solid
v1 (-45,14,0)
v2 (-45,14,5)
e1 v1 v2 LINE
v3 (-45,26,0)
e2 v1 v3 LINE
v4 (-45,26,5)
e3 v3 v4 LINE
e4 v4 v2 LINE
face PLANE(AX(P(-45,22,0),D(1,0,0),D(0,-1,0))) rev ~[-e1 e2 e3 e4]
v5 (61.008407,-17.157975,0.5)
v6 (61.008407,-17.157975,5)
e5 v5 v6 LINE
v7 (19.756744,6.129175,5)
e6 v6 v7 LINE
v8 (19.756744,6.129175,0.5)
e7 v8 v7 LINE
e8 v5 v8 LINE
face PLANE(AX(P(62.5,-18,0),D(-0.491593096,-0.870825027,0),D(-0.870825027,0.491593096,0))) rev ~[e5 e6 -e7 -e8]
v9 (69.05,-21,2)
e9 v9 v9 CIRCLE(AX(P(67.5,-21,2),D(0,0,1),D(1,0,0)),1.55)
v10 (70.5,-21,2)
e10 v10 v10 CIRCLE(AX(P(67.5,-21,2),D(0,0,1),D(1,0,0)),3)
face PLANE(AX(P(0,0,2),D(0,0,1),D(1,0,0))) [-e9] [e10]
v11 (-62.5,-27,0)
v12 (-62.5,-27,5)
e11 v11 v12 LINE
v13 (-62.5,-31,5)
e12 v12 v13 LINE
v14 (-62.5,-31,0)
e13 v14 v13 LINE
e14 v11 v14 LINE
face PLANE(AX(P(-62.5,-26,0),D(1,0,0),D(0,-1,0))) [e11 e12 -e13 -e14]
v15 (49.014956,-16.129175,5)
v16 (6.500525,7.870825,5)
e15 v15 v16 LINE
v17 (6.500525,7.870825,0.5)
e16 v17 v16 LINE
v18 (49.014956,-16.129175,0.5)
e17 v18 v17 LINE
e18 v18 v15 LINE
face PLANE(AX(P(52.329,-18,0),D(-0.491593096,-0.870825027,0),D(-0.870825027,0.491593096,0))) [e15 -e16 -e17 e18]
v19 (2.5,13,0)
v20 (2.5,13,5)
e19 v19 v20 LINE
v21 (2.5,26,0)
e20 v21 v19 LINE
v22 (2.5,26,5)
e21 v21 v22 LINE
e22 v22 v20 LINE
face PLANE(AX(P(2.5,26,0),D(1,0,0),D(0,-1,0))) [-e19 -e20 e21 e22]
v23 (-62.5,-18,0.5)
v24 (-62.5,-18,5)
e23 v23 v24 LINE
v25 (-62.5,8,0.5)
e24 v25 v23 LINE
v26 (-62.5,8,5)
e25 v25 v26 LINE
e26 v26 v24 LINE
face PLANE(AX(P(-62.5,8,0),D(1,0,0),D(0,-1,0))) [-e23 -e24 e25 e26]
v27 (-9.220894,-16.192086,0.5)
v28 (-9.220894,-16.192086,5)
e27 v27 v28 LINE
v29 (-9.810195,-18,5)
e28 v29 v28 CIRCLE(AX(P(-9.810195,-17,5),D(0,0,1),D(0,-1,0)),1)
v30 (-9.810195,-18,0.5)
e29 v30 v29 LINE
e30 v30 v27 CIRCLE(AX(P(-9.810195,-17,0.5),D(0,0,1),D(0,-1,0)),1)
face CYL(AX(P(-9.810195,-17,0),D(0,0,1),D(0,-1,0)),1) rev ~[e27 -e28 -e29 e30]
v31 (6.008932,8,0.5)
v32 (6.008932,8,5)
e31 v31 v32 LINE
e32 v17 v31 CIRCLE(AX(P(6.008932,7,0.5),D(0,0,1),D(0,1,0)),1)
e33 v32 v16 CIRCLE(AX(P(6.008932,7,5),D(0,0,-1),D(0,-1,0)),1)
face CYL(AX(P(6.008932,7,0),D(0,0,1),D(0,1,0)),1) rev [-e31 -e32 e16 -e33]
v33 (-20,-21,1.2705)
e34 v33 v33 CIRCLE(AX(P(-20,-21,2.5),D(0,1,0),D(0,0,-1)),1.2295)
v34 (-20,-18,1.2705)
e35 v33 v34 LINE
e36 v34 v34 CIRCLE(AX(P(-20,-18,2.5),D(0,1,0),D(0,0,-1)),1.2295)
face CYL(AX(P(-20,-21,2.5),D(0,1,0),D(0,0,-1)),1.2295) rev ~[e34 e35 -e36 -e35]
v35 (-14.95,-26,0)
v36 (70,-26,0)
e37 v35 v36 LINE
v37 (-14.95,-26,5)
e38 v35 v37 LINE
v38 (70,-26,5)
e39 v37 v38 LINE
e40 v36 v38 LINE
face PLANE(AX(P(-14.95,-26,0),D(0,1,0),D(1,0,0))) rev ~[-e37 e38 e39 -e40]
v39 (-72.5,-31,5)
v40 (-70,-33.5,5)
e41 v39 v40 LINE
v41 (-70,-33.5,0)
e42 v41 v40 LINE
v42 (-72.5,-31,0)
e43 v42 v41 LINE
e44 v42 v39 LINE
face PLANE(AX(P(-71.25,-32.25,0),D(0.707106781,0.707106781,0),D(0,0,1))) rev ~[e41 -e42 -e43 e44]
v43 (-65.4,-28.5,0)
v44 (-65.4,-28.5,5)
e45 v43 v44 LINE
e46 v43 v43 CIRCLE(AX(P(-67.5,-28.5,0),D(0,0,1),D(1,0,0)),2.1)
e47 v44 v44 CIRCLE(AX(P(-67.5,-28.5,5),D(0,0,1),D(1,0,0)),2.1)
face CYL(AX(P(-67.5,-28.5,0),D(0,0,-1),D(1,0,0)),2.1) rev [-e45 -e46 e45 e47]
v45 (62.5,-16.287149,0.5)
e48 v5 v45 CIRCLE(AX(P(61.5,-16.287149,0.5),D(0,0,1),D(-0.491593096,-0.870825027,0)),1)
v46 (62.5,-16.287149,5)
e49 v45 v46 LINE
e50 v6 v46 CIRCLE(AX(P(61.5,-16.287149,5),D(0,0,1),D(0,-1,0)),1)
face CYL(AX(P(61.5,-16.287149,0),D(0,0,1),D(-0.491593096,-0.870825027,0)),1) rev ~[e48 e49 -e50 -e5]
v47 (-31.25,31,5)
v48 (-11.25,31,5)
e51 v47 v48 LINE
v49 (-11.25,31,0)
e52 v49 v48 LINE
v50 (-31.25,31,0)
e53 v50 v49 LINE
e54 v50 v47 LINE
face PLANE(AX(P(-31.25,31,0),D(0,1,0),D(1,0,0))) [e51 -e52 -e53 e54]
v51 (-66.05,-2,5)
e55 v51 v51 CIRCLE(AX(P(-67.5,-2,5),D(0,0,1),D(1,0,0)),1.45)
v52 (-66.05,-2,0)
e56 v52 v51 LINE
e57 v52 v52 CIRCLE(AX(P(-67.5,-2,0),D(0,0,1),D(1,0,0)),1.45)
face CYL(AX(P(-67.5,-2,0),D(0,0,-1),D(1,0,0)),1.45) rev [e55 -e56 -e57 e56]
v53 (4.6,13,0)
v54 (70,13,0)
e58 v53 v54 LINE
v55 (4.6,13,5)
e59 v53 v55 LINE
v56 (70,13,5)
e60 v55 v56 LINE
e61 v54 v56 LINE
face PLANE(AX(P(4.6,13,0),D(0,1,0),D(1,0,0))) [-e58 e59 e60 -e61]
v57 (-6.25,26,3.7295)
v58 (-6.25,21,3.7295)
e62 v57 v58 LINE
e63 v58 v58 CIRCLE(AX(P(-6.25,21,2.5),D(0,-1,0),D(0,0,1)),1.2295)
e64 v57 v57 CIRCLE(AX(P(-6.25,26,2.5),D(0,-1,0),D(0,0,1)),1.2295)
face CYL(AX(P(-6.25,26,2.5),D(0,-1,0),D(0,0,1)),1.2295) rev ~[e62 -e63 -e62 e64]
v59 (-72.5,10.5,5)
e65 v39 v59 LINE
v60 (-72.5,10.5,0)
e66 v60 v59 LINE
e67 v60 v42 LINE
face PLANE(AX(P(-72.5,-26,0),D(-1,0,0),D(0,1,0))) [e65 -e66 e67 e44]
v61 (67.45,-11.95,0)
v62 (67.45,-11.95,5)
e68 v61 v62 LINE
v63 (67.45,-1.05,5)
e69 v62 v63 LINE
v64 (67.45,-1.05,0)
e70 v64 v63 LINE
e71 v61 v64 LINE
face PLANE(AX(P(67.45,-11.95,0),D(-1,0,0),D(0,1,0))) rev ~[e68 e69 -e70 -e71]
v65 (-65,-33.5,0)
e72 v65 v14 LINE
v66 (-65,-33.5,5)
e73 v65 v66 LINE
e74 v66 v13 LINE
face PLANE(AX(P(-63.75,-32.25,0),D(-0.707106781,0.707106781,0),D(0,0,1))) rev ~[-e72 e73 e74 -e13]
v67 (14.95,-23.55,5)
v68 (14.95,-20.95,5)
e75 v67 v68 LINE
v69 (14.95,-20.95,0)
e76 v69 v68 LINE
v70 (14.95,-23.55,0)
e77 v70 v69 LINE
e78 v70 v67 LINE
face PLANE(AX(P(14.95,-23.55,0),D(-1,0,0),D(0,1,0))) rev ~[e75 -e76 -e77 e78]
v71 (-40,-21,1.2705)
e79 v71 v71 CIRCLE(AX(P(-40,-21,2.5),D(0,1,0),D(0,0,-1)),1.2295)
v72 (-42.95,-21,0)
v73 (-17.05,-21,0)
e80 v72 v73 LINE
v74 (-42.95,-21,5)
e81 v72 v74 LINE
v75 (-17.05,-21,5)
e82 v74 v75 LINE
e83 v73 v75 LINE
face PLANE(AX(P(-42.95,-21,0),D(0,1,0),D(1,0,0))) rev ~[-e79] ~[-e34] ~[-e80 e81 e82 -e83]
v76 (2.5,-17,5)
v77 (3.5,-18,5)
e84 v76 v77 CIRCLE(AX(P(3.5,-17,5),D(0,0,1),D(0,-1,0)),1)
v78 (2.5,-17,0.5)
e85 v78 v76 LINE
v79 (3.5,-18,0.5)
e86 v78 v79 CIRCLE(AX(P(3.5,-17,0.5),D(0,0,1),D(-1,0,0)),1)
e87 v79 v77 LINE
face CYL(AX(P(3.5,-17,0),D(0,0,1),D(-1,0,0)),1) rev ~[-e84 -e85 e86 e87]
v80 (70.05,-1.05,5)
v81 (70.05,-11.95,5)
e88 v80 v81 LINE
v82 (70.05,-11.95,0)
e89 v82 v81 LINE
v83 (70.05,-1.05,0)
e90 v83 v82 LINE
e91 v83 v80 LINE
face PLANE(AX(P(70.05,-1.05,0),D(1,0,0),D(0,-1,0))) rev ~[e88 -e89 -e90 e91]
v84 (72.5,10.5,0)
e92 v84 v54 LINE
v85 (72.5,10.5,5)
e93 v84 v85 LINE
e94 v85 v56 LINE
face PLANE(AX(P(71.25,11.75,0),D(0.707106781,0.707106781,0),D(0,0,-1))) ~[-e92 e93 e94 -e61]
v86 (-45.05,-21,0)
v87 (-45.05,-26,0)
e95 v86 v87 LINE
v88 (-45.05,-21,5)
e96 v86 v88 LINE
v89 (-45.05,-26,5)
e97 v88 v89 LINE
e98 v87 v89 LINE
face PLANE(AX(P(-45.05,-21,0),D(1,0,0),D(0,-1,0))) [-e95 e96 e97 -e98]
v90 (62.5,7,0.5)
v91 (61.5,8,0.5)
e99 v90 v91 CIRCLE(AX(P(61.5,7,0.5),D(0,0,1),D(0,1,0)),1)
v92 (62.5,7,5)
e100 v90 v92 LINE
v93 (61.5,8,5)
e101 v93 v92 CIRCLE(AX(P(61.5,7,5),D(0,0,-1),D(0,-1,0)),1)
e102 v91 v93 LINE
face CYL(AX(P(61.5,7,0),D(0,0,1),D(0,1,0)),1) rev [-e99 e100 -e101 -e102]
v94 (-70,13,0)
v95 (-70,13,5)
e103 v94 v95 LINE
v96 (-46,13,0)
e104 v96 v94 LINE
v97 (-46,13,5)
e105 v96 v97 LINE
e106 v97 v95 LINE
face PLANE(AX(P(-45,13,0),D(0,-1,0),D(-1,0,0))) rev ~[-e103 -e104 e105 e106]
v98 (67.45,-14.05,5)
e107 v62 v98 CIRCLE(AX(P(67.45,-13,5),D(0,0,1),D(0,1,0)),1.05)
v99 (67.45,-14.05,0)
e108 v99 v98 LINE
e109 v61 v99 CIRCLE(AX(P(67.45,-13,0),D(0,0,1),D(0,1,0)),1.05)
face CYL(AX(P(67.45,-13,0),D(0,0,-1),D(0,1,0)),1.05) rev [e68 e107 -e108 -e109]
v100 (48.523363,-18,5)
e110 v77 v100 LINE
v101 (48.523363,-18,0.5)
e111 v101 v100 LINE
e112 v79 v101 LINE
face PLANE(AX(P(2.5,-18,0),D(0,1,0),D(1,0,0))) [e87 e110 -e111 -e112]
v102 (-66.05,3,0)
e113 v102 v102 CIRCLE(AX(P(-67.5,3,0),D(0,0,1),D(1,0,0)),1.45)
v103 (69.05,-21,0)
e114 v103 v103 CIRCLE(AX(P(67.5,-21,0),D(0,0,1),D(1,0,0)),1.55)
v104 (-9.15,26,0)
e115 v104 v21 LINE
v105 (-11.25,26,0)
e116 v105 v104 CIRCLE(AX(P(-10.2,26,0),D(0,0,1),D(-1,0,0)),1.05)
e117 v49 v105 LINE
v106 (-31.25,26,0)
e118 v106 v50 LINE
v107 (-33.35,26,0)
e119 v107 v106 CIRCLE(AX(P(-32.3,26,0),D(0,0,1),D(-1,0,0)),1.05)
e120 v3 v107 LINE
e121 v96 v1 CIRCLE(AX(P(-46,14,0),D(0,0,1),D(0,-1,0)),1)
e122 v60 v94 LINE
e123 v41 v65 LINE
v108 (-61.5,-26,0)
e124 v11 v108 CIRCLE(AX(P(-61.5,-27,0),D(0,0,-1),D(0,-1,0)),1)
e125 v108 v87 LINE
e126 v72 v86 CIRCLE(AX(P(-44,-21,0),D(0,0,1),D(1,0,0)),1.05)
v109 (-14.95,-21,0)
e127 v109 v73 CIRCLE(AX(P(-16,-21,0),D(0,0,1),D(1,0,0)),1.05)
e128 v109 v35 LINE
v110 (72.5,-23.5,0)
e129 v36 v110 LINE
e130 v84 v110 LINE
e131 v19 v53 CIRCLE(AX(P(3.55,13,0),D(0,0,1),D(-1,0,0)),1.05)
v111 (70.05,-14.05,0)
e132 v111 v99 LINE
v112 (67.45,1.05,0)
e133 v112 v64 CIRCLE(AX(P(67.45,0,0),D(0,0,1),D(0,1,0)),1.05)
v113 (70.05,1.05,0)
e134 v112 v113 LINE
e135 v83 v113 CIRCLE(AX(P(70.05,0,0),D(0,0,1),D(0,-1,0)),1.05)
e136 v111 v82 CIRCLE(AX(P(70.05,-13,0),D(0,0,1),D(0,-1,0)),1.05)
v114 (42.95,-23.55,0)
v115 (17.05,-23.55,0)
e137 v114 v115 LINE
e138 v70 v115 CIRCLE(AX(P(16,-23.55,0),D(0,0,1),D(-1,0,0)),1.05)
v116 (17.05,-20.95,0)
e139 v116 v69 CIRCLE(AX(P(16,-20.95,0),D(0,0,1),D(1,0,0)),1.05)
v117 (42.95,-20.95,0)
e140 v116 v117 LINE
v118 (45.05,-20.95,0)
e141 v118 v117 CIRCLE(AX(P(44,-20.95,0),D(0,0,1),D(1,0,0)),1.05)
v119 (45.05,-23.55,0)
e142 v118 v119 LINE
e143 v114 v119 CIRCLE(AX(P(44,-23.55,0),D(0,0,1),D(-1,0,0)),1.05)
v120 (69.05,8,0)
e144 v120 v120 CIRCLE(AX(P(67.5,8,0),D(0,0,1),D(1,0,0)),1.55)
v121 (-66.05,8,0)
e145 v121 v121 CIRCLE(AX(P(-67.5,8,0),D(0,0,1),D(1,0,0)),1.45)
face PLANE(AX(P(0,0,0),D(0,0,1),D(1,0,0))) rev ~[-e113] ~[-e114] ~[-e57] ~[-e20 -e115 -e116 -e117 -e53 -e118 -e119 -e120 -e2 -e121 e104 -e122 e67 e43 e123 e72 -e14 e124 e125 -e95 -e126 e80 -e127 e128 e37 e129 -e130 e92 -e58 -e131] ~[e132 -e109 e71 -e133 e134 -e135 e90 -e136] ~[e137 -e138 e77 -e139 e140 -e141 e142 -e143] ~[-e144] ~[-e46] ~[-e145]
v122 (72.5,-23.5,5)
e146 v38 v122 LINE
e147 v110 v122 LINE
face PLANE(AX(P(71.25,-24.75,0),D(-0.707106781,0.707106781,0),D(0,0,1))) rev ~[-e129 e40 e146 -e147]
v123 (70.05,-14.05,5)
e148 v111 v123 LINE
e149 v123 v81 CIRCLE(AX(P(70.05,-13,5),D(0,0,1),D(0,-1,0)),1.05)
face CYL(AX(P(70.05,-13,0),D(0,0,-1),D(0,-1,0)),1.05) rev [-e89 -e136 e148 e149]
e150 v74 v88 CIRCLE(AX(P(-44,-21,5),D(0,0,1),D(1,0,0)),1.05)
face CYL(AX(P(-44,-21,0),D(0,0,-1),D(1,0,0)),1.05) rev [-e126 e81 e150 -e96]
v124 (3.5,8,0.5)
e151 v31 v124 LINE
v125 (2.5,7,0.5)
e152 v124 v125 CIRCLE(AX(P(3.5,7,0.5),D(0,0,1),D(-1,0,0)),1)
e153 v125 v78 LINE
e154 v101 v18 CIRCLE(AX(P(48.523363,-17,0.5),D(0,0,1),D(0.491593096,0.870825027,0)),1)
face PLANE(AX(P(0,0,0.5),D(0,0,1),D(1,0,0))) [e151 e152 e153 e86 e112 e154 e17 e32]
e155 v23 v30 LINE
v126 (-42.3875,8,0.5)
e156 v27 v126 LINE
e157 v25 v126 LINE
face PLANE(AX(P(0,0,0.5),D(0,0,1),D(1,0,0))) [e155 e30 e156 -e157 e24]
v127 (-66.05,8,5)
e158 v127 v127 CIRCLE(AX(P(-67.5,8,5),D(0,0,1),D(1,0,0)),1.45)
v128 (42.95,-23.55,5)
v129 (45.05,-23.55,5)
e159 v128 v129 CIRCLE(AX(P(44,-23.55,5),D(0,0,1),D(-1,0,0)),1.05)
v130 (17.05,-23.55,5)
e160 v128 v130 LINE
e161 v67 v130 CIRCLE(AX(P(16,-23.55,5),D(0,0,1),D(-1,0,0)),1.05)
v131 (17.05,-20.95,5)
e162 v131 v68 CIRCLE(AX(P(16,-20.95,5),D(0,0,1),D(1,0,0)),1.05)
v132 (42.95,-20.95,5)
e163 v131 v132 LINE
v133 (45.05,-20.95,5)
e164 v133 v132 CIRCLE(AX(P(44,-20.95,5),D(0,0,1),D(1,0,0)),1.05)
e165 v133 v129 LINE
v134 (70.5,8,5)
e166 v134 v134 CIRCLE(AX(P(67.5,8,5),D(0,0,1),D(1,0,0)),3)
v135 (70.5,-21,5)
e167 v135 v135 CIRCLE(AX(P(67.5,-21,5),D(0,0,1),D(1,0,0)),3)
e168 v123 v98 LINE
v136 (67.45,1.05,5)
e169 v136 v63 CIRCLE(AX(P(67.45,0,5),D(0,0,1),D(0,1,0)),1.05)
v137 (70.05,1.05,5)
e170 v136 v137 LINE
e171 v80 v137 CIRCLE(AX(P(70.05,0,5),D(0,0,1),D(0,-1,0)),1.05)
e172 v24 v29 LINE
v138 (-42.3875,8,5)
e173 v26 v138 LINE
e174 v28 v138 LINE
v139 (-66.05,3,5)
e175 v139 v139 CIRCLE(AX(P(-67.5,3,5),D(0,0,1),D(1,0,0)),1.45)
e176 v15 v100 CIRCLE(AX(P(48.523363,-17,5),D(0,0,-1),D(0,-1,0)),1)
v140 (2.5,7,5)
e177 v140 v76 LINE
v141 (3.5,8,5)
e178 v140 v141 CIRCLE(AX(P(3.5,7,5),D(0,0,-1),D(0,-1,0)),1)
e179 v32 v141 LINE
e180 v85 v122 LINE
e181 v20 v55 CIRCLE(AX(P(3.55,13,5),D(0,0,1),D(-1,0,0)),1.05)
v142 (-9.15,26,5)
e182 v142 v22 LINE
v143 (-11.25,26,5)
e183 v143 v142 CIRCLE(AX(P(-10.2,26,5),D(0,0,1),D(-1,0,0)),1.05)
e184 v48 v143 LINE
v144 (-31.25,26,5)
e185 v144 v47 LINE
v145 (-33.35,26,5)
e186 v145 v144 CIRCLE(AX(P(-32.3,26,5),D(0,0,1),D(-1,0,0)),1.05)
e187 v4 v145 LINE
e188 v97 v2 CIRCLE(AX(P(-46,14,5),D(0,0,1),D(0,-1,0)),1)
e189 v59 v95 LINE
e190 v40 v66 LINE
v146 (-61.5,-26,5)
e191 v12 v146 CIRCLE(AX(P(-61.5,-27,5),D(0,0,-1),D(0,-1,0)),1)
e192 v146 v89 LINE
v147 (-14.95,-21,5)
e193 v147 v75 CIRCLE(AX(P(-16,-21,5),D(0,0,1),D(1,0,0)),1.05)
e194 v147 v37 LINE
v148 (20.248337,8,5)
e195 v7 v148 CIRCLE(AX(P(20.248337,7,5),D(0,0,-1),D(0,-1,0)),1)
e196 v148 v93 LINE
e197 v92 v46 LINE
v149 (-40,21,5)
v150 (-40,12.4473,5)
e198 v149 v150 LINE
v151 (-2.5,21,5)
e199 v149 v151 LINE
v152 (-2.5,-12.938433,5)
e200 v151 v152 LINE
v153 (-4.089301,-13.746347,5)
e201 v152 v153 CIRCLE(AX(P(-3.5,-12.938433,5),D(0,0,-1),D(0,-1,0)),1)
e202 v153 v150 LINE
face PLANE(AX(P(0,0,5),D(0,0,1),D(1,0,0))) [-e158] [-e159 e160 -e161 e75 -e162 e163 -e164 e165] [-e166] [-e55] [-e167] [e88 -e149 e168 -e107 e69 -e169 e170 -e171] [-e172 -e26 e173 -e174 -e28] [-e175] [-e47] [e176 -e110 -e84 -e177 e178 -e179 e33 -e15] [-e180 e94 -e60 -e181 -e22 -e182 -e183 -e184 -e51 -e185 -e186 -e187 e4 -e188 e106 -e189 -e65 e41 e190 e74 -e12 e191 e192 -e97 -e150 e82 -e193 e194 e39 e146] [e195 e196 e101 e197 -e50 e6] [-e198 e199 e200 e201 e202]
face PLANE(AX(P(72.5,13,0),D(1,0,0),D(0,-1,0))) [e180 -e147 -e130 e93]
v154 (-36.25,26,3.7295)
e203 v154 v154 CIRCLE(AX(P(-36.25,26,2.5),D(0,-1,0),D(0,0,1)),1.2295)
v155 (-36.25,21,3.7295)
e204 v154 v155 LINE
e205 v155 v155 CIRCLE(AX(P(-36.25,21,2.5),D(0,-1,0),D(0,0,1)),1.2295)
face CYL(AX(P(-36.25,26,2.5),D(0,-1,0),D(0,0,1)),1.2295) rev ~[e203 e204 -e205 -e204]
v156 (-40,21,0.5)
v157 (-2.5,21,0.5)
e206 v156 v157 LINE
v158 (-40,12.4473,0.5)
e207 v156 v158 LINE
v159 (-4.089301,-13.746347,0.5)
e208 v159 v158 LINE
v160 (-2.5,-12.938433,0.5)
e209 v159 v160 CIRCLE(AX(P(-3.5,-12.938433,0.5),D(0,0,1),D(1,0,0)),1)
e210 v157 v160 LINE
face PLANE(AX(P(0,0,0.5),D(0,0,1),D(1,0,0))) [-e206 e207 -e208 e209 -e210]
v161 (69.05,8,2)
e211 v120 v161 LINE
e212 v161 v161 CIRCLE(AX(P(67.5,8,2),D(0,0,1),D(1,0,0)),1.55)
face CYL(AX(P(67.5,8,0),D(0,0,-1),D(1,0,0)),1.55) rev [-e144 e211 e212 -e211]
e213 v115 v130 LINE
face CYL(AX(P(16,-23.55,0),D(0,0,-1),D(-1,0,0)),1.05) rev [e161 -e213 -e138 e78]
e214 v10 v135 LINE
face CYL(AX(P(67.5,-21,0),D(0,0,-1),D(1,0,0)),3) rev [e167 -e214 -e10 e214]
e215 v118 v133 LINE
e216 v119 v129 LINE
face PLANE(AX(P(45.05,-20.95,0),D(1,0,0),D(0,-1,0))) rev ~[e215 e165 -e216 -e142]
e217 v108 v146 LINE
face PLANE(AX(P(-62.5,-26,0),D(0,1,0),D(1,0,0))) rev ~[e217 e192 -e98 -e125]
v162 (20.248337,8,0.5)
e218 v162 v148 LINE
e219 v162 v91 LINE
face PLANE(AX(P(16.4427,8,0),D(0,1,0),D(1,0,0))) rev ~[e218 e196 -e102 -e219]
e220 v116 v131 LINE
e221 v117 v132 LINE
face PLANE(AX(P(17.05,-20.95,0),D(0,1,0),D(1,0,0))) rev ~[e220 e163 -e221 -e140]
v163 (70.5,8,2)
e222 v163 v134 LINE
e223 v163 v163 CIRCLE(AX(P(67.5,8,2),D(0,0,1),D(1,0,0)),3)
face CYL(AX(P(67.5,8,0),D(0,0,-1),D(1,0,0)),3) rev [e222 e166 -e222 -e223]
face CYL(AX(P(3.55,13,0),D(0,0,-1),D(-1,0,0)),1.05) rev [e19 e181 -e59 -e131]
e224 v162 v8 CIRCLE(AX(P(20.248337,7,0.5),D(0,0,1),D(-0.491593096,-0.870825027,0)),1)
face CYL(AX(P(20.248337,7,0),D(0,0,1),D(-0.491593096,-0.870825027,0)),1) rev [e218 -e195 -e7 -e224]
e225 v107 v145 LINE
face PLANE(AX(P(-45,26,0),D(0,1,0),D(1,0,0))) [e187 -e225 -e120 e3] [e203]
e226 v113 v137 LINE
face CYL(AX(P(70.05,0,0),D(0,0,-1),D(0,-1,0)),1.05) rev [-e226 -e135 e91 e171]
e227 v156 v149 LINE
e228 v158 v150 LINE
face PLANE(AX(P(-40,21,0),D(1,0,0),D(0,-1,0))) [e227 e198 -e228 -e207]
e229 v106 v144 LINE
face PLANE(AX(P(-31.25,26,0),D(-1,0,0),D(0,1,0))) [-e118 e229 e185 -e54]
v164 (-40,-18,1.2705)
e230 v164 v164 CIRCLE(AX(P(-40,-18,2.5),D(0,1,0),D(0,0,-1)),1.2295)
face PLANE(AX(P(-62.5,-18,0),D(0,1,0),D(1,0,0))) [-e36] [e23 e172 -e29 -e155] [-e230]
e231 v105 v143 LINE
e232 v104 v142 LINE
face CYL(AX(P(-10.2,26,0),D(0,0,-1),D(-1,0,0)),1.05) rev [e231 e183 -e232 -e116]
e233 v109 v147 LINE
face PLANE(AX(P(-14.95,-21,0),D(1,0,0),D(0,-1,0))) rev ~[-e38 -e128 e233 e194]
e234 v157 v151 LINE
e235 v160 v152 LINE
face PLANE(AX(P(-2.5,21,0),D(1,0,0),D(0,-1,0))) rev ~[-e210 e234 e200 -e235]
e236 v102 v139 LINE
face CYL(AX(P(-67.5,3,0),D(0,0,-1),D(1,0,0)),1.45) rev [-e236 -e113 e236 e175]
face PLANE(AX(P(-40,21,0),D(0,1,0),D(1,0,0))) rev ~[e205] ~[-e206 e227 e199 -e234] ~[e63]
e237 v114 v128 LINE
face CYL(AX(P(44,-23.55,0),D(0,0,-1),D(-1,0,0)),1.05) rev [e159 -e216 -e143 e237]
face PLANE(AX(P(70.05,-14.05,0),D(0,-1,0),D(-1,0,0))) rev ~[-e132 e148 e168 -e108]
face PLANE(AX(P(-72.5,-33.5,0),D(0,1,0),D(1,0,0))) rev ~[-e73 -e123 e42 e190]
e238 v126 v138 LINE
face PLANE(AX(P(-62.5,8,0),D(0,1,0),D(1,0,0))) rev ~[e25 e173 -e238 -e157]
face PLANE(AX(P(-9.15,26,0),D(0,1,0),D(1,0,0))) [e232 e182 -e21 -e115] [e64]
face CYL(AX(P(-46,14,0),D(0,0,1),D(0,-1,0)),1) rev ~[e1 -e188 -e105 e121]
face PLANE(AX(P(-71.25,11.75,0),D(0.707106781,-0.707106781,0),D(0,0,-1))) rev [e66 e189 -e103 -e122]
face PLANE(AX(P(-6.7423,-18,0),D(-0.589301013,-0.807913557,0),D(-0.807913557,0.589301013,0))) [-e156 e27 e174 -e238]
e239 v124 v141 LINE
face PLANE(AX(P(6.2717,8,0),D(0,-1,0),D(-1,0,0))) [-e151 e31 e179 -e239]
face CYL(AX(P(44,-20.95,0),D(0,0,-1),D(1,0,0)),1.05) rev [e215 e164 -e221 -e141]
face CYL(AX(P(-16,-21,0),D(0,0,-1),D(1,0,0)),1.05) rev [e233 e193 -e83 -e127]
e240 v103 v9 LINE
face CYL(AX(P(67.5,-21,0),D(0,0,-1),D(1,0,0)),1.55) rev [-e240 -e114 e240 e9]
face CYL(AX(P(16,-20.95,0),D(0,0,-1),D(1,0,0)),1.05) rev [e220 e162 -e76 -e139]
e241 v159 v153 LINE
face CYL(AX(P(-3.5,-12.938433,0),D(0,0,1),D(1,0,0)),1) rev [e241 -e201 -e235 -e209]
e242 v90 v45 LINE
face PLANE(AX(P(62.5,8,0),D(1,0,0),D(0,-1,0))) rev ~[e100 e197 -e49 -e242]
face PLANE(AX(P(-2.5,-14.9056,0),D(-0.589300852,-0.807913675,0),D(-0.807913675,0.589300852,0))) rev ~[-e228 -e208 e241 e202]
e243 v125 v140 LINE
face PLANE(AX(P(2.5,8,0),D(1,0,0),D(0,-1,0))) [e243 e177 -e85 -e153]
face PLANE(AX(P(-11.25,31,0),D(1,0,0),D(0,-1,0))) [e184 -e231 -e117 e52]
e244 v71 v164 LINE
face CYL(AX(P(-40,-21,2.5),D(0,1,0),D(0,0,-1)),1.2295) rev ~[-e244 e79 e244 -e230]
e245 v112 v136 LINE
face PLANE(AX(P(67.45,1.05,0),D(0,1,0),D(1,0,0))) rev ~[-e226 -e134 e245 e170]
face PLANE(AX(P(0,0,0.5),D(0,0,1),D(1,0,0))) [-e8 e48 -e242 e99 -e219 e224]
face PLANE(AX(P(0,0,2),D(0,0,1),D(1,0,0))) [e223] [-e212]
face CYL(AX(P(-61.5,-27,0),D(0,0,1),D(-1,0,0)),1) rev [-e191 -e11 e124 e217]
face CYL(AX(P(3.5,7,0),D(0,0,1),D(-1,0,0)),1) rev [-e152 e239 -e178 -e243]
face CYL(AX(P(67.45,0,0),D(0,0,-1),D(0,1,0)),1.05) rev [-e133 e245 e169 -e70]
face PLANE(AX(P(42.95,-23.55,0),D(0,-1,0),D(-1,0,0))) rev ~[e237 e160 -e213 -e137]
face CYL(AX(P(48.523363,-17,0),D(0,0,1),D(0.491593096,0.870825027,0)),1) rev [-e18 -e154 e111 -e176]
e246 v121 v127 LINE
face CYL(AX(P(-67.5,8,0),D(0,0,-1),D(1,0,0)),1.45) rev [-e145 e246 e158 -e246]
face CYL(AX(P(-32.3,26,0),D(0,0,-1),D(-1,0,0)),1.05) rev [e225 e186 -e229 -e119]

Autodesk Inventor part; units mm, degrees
ref_plane "YZ Plane" through (0, 0, 0) normal (1, 0, 0) x (0, 1, 0)
ref_plane "XZ Plane" through (0, 0, 0) normal (0, 1, 0) x (-1, 0, 0)
ref_plane "XY Plane" through (0, 0, 0) normal (0, 0, 1) x (1, 0, 0)
sketch "スケッチ2" plane through (-42.95, -21, 0) normal (0, -1, 0) x (1, 0, 0)
  line L0 (0, 0) -> (25.9, 5) construction
  line L1 (0, 5) -> (25.9, 5) projected
  line L2 (12.95, 5) -> (12.95, 0) construction
  line L3 (0, 0) -> (25.9, 0) projected
  line L4 (0, 0) -> (0, 5) projected
  line L5 (0, 2.5) -> (25.9, 2.5) construction
  line L6 (25.9, 0) -> (25.9, 5) projected
  point P0 (42.95, 0)
  point P1 (2.95, 2.5)
  point P2 (22.95, 2.5)
  dimension "d176" = 20
sketch "スケッチ1" plane through (0, 0, 0) normal (0, 0, 1) x (1, 0, 0)
  line L0 (-72.5, 26) -> (-45, 26) construction
  line L1 (72.5, 26) -> (72.5, 13) construction
  line L2 (-72.5, -26) -> (-72.5, 13)
  line L3 (-72.5, 26) -> (72.5, -26) construction
  line L4 (72.5, 26) -> (-72.5, -26) construction
  line L5 (2.5, 26) -> (2.5, 13)
  line L6 (2.5, 13) -> (4.6, 13) construction
  line L7 (2.5, 26) -> (72.5, 26) construction
  line L8 (72.5, 13) -> (72.5, -26)
  line L9 (70, 13) -> (70, -25.5) construction
  circle A0 centre (67.5, 8) radius 1.55
  line L10 (-31.25, 26) -> (-31.25, 31)
  line L11 (-31.25, 31) -> (-11.25, 31)
  line L12 (-11.25, 31) -> (-11.25, 26)
  line L13 (-31.25, 26) -> (-11.25, 26) construction
  line L14 (-11.25, 26) -> (-9.15, 26) construction
  arc A1 (-33.35, 26) -> (-31.25, 26) centre (-32.3, 26) ccw
  arc A2 (-11.25, 26) -> (-9.15, 26) centre (-10.2, 26) ccw
  line L15 (-33.35, 26) -> (-31.25, 26) construction
  line L16 (-9.15, 26) -> (2.5, 26)
  line L17 (-45.05, -21) -> (-42.95, -21) construction
  arc A3 (-42.95, -21) -> (-45.05, -21) centre (-44, -21) ccw
  arc A4 (-14.95, -21) -> (-17.05, -21) centre (-16, -21) ccw
  line L18 (-42.95, -21) -> (-17.05, -21)
  line L19 (-17.05, -21) -> (-14.95, -21) construction
  line L20 (15, -21) -> (45, -21) construction
  line L21 (45, -21) -> (45, -23.5) construction
  line L22 (45, -23.5) -> (15, -23.5) construction
  line L23 (15, -23.5) -> (15, -21) construction
  line L24 (15, -21) -> (45, -23.5) construction
  line L25 (45, -21) -> (15, -23.5) construction
  line L26 (14.95, -20.95) -> (45.05, -20.95)
  line L27 (45.05, -20.95) -> (45.05, -23.55)
  line L28 (45.05, -23.55) -> (14.95, -23.55)
  line L29 (14.95, -23.55) -> (14.95, -20.95)
  line L30 (14.95, -20.95) -> (45.05, -23.55) construction
  line L31 (45.05, -20.95) -> (14.95, -23.55) construction
  line L32 (-45, -21) -> (-45, -26) construction
  line L33 (-15, -21) -> (-15, -26) construction
  line L34 (72.5, -6.5) -> (-72.5, -6.5) construction
  line L35 (70, 1) -> (67.5, 1) construction
  line L36 (67.5, 1) -> (67.5, -14) construction
  line L37 (67.5, -14) -> (70, -14) construction
  line L38 (70, -14) -> (70, 1) construction
  line L39 (70, 1) -> (67.5, -14) construction
  line L40 (67.5, 1) -> (70, -14) construction
  line L41 (67.45, 1.05) -> (70.05, 1.05)
  line L42 (70.05, 1.05) -> (70.05, -1.05) construction
  line L43 (70.05, -14.05) -> (67.45, -14.05)
  line L44 (67.45, -14.05) -> (67.45, -11.95) construction
  line L45 (67.45, 1.05) -> (70.05, -14.05) construction
  line L46 (70.05, 1.05) -> (67.45, -14.05) construction
  arc A5 (67.45, 1.05) -> (67.45, -1.05) centre (67.45, 0) ccw
  arc A6 (70.05, -1.05) -> (70.05, 1.05) centre (70.05, 0) ccw
  arc A7 (67.45, -11.95) -> (67.45, -14.05) centre (67.45, -13) ccw
  arc A8 (70.05, -14.05) -> (70.05, -11.95) centre (70.05, -13) ccw
  line L47 (67.45, -1.05) -> (67.45, 1.05) construction
  line L48 (67.45, -11.95) -> (67.45, -1.05)
  line L49 (70.05, -11.95) -> (70.05, -14.05) construction
  line L50 (70.05, -1.05) -> (70.05, -11.95)
  circle A9 centre (67.5, -21) radius 1.55
  line L51 (-72.5, -26) -> (-62.5, -26) construction
  line L52 (-15, -26) -> (72.5, -26)
  line L53 (-45, -26) -> (-15, -26) construction
  line L54 (-70, 26.5) -> (-70, -26) construction
  line L55 (-65, 26) -> (-65, -26) construction
  arc A10 (2.5, 13) -> (4.6, 13) centre (3.55, 13) ccw
  line L56 (4.6, 13) -> (72.5, 13)
  circle A11 centre (67.5, 8) radius 3
  circle A12 centre (67.5, -21) radius 3
  line L57 (2.5, 8) -> (2.5, -18)
  line L58 (2.5, -18) -> (52.329, -18)
  line L59 (52.329, -18) -> (6.2717, 8)
  line L60 (16.4427, 8) -> (62.5, 8)
  line L61 (62.5, 8) -> (62.5, -18)
  line L62 (62.5, -18) -> (16.4427, 8)
  line L63 (-62.5, -18) -> (-6.7423, -18)
  line L64 (-6.7423, -18) -> (-42.3875, 8)
  line L65 (-2.5, 21) -> (-2.5, -14.9056)
  line L66 (-2.5, -14.9056) -> (-40, 12.4473)
  line L67 (2.5, 13) -> (2.5, -26) construction
  line L68 (6.2717, 8) -> (2.5, 8)
  line L69 (2.5, 13) -> (71.586, -26) construction
  circle A13 centre (-67.5, -28.5) radius 2.1
  circle A14 centre (-67.5, -2) radius 1.45
  circle A15 centre (-67.5, 3) radius 1.45
  circle A16 centre (-67.5, 8) radius 1.45
  line L70 (-67.5, 26) -> (-67.5, -26) construction
  line L71 (-45.05, -21) -> (-45.05, -26)
  line L72 (-14.95, -21) -> (-14.95, -26)
  line L73 (-45, 26) -> (-45, 22)
  line L74 (-45, 13) -> (-72.5, 13)
  line L75 (-62.5, 8) -> (-42.3875, 8)
  line L76 (-40, 21) -> (-40, 12.4473)
  line L77 (-72.5, -26) -> (-72.5, -33.5)
  line L78 (-72.5, -33.5) -> (-62.5, -33.5)
  line L79 (-62.5, -26) -> (-62.5, -33.5)
  line L80 (-62.5, -26) -> (-45, -26)
  line L81 (-45, 26) -> (-33.35, 26)
  line L82 (-45, 22) -> (-45, 13)
  line L83 (-62.5, 8) -> (-62.5, -18)
  line L84 (-2.5, -18) -> (-45, 13) construction
  line L85 (-45.05, 22) -> (-45, 22)
  line L86 (-40, 21) -> (-2.5, 21)
  line L87 (-72.5, 13) -> (-72.5, 26) construction
  arc A17 (14.95, -23.55) -> (17.05, -23.55) centre (16, -23.55) ccw
  line L88 (14.95, -22.25) -> (45.05, -22.25) construction
  line L89 (30, -20.95) -> (30, -23.55) construction
  arc A18 (17.05, -20.95) -> (14.95, -20.95) centre (16, -20.95) ccw
  arc A19 (42.95, -23.55) -> (45.05, -23.55) centre (44, -23.55) ccw
  arc A20 (45.05, -20.95) -> (42.95, -20.95) centre (44, -20.95) ccw
  point P0 (0, 0)
  point P1 (30, -22.25)
  point P2 (68.75, -6.5)
  point P3 (-60, 14.6054)
  point P4 (-46.25, 11.0112)
  point P5 (-54.1904, 10.5)
  point P6 (-45.5266, 10.5)
  point P7 (42.95, -20.95)
  dimension "d0" = 145
  dimension "d1" = 52
  dimension "d2" = 75
  dimension "d3" = 13
  dimension "d4" = 2.5
  dimension "d5" = 3.1
  dimension "d6" = 2.5
  dimension "d7" = 5
  dimension "d12" = 20
  dimension "d14" = 5
  dimension "d15" = 1.05
  dimension "d16" = 1.05
  dimension "d17" = 70
  dimension "d55" = 1.05
  dimension "d56" = 1.05
  dimension "d74" = 39
  dimension "d107" = 30
  dimension "d108" = 2.5
  dimension "d109" = 0.05
  dimension "d110" = 0.05
  dimension "d116" = 30
  dimension "d124" = 15
  dimension "d125" = 0.05
  dimension "d126" = 0.05
  dimension "d127" = 1.05
  dimension "d128" = 1.05
  dimension "d129" = 1.05
  dimension "d130" = 1.05
  dimension "d132" = 30
  dimension "d134" = 5
  dimension "d135" = 2.5
  dimension "d146" = 5
  dimension "d147" = 20
  dimension "d152" = 1.05
  dimension "d169" = 6
  dimension "d186" = 5
  dimension "d187" = 5
  dimension "d190" = 8
  dimension "d192" = 5
  dimension "d193" = 5
  dimension "d196" = 2.5
  dimension "d200" = 4.2
  dimension "d205" = 2.5
  dimension "d206" = 2.9
  dimension "d207" = 2.9
  dimension "d208" = 2.9
  dimension "d209" = 2.5
  dimension "d211" = 5
  dimension "d212" = 5
  dimension "d213" = 0.05
  dimension "d214" = 0.05
  dimension "d215" = 2.5
  dimension "d216" = 5
  dimension "d217" = 2.5
  dimension "d220" = 18
  dimension "d222" = 13
  dimension "d225" = 13.75
  dimension "d226" = 27.5
  dimension "d227" = 5
  dimension "d228" = 5
  dimension "d233" = 7.5
  dimension "d234" = 2.5
  dimension "d235" = 2.5
  dimension "d236" = 5
extrude "押し出し1" add sketch "スケッチ1" along normal blind 5 contours L2 L74 L82 L73 L81 A1 L10 L11 L12 A2 L16 L5 A10 L56 L8 L52 L72 A4 L18 A3 L71 L80 L79 L78 L77
extrude "押し出し2" add sketch "スケッチ1" along normal blind 2 contours A11 | A12
hole "穴1" at (-40, -21, 2.5) at (-20, -21, 2.5) direction (0, 1, 0) diameter 2.459 depth 5 thread size "M3x0.5" class "6H" standard "ISO Metric profile"
chamfer "面取り1" distance 2.5 angle 45 5 edges at (72.5, -26, 2.5) (72.5, 13, 2.5) (-72.5, -33.5, 2.5) (-72.5, 13, 2.5) (-62.5, -33.5, 2.5)
fillet "フィレット2" radius 1 11 edges at (-6.7423, -18, 2.5) (-2.5, -14.9056, 2.5) (2.5, -18, 2.5) (2.5, 8, 2.5) (6.2717, 8, 2.5) (16.4427, 8, 2.5) (62.5, 8, 2.5) (62.5, -18, 2.5) (52.329, -18, 2.5) (-45, 13, 2.5) (-62.5, -26, 2.5)
extrude "押し出し4" add sketch "スケッチ1" along normal blind 0.5 contours L68 L59 L58 L57 | L60 L61 L62 | L83 L75 L64 L63 | L65 L66 L76 L86
sketch "スケッチ9" plane through (-45, 26, 0) normal (0, 1, 0) x (1, 0, 0)
  line L0 (33.75, 0) -> (33.75, -5) projected
  line L1 (13.75, 0) -> (13.75, -5) projected
  line L2 (33.75, 0) -> (13.75, 0) projected
  line L3 (47.5, 0) -> (35.85, 0) projected
  point P0 (45, 0)
  point P1 (8.75, -2.5)
  point P2 (38.75, -2.5)
  dimension "d237" = 20
  dimension "d238" = 30
  dimension "d239" = 5
  dimension "d240" = 2.5
  dimension "d241" = 2.5
hole "穴6" at (-36.25, 26, 2.5) at (-6.25, 26, 2.5) direction (0, -1, 0) diameter 2.459 depth 5 thread size "M3x0.5" class "6H" standard "ISO Metric profile"
equation "\"d16\" = d15"
equation "\"d55\" = d54"
equation "\"d56\" = d55"
equation "\"d53\" = d15"
equation "\"d54\" = d53"
properties part number "Cockpit_lower_side_frame" material "アセタール樹脂、黒"
